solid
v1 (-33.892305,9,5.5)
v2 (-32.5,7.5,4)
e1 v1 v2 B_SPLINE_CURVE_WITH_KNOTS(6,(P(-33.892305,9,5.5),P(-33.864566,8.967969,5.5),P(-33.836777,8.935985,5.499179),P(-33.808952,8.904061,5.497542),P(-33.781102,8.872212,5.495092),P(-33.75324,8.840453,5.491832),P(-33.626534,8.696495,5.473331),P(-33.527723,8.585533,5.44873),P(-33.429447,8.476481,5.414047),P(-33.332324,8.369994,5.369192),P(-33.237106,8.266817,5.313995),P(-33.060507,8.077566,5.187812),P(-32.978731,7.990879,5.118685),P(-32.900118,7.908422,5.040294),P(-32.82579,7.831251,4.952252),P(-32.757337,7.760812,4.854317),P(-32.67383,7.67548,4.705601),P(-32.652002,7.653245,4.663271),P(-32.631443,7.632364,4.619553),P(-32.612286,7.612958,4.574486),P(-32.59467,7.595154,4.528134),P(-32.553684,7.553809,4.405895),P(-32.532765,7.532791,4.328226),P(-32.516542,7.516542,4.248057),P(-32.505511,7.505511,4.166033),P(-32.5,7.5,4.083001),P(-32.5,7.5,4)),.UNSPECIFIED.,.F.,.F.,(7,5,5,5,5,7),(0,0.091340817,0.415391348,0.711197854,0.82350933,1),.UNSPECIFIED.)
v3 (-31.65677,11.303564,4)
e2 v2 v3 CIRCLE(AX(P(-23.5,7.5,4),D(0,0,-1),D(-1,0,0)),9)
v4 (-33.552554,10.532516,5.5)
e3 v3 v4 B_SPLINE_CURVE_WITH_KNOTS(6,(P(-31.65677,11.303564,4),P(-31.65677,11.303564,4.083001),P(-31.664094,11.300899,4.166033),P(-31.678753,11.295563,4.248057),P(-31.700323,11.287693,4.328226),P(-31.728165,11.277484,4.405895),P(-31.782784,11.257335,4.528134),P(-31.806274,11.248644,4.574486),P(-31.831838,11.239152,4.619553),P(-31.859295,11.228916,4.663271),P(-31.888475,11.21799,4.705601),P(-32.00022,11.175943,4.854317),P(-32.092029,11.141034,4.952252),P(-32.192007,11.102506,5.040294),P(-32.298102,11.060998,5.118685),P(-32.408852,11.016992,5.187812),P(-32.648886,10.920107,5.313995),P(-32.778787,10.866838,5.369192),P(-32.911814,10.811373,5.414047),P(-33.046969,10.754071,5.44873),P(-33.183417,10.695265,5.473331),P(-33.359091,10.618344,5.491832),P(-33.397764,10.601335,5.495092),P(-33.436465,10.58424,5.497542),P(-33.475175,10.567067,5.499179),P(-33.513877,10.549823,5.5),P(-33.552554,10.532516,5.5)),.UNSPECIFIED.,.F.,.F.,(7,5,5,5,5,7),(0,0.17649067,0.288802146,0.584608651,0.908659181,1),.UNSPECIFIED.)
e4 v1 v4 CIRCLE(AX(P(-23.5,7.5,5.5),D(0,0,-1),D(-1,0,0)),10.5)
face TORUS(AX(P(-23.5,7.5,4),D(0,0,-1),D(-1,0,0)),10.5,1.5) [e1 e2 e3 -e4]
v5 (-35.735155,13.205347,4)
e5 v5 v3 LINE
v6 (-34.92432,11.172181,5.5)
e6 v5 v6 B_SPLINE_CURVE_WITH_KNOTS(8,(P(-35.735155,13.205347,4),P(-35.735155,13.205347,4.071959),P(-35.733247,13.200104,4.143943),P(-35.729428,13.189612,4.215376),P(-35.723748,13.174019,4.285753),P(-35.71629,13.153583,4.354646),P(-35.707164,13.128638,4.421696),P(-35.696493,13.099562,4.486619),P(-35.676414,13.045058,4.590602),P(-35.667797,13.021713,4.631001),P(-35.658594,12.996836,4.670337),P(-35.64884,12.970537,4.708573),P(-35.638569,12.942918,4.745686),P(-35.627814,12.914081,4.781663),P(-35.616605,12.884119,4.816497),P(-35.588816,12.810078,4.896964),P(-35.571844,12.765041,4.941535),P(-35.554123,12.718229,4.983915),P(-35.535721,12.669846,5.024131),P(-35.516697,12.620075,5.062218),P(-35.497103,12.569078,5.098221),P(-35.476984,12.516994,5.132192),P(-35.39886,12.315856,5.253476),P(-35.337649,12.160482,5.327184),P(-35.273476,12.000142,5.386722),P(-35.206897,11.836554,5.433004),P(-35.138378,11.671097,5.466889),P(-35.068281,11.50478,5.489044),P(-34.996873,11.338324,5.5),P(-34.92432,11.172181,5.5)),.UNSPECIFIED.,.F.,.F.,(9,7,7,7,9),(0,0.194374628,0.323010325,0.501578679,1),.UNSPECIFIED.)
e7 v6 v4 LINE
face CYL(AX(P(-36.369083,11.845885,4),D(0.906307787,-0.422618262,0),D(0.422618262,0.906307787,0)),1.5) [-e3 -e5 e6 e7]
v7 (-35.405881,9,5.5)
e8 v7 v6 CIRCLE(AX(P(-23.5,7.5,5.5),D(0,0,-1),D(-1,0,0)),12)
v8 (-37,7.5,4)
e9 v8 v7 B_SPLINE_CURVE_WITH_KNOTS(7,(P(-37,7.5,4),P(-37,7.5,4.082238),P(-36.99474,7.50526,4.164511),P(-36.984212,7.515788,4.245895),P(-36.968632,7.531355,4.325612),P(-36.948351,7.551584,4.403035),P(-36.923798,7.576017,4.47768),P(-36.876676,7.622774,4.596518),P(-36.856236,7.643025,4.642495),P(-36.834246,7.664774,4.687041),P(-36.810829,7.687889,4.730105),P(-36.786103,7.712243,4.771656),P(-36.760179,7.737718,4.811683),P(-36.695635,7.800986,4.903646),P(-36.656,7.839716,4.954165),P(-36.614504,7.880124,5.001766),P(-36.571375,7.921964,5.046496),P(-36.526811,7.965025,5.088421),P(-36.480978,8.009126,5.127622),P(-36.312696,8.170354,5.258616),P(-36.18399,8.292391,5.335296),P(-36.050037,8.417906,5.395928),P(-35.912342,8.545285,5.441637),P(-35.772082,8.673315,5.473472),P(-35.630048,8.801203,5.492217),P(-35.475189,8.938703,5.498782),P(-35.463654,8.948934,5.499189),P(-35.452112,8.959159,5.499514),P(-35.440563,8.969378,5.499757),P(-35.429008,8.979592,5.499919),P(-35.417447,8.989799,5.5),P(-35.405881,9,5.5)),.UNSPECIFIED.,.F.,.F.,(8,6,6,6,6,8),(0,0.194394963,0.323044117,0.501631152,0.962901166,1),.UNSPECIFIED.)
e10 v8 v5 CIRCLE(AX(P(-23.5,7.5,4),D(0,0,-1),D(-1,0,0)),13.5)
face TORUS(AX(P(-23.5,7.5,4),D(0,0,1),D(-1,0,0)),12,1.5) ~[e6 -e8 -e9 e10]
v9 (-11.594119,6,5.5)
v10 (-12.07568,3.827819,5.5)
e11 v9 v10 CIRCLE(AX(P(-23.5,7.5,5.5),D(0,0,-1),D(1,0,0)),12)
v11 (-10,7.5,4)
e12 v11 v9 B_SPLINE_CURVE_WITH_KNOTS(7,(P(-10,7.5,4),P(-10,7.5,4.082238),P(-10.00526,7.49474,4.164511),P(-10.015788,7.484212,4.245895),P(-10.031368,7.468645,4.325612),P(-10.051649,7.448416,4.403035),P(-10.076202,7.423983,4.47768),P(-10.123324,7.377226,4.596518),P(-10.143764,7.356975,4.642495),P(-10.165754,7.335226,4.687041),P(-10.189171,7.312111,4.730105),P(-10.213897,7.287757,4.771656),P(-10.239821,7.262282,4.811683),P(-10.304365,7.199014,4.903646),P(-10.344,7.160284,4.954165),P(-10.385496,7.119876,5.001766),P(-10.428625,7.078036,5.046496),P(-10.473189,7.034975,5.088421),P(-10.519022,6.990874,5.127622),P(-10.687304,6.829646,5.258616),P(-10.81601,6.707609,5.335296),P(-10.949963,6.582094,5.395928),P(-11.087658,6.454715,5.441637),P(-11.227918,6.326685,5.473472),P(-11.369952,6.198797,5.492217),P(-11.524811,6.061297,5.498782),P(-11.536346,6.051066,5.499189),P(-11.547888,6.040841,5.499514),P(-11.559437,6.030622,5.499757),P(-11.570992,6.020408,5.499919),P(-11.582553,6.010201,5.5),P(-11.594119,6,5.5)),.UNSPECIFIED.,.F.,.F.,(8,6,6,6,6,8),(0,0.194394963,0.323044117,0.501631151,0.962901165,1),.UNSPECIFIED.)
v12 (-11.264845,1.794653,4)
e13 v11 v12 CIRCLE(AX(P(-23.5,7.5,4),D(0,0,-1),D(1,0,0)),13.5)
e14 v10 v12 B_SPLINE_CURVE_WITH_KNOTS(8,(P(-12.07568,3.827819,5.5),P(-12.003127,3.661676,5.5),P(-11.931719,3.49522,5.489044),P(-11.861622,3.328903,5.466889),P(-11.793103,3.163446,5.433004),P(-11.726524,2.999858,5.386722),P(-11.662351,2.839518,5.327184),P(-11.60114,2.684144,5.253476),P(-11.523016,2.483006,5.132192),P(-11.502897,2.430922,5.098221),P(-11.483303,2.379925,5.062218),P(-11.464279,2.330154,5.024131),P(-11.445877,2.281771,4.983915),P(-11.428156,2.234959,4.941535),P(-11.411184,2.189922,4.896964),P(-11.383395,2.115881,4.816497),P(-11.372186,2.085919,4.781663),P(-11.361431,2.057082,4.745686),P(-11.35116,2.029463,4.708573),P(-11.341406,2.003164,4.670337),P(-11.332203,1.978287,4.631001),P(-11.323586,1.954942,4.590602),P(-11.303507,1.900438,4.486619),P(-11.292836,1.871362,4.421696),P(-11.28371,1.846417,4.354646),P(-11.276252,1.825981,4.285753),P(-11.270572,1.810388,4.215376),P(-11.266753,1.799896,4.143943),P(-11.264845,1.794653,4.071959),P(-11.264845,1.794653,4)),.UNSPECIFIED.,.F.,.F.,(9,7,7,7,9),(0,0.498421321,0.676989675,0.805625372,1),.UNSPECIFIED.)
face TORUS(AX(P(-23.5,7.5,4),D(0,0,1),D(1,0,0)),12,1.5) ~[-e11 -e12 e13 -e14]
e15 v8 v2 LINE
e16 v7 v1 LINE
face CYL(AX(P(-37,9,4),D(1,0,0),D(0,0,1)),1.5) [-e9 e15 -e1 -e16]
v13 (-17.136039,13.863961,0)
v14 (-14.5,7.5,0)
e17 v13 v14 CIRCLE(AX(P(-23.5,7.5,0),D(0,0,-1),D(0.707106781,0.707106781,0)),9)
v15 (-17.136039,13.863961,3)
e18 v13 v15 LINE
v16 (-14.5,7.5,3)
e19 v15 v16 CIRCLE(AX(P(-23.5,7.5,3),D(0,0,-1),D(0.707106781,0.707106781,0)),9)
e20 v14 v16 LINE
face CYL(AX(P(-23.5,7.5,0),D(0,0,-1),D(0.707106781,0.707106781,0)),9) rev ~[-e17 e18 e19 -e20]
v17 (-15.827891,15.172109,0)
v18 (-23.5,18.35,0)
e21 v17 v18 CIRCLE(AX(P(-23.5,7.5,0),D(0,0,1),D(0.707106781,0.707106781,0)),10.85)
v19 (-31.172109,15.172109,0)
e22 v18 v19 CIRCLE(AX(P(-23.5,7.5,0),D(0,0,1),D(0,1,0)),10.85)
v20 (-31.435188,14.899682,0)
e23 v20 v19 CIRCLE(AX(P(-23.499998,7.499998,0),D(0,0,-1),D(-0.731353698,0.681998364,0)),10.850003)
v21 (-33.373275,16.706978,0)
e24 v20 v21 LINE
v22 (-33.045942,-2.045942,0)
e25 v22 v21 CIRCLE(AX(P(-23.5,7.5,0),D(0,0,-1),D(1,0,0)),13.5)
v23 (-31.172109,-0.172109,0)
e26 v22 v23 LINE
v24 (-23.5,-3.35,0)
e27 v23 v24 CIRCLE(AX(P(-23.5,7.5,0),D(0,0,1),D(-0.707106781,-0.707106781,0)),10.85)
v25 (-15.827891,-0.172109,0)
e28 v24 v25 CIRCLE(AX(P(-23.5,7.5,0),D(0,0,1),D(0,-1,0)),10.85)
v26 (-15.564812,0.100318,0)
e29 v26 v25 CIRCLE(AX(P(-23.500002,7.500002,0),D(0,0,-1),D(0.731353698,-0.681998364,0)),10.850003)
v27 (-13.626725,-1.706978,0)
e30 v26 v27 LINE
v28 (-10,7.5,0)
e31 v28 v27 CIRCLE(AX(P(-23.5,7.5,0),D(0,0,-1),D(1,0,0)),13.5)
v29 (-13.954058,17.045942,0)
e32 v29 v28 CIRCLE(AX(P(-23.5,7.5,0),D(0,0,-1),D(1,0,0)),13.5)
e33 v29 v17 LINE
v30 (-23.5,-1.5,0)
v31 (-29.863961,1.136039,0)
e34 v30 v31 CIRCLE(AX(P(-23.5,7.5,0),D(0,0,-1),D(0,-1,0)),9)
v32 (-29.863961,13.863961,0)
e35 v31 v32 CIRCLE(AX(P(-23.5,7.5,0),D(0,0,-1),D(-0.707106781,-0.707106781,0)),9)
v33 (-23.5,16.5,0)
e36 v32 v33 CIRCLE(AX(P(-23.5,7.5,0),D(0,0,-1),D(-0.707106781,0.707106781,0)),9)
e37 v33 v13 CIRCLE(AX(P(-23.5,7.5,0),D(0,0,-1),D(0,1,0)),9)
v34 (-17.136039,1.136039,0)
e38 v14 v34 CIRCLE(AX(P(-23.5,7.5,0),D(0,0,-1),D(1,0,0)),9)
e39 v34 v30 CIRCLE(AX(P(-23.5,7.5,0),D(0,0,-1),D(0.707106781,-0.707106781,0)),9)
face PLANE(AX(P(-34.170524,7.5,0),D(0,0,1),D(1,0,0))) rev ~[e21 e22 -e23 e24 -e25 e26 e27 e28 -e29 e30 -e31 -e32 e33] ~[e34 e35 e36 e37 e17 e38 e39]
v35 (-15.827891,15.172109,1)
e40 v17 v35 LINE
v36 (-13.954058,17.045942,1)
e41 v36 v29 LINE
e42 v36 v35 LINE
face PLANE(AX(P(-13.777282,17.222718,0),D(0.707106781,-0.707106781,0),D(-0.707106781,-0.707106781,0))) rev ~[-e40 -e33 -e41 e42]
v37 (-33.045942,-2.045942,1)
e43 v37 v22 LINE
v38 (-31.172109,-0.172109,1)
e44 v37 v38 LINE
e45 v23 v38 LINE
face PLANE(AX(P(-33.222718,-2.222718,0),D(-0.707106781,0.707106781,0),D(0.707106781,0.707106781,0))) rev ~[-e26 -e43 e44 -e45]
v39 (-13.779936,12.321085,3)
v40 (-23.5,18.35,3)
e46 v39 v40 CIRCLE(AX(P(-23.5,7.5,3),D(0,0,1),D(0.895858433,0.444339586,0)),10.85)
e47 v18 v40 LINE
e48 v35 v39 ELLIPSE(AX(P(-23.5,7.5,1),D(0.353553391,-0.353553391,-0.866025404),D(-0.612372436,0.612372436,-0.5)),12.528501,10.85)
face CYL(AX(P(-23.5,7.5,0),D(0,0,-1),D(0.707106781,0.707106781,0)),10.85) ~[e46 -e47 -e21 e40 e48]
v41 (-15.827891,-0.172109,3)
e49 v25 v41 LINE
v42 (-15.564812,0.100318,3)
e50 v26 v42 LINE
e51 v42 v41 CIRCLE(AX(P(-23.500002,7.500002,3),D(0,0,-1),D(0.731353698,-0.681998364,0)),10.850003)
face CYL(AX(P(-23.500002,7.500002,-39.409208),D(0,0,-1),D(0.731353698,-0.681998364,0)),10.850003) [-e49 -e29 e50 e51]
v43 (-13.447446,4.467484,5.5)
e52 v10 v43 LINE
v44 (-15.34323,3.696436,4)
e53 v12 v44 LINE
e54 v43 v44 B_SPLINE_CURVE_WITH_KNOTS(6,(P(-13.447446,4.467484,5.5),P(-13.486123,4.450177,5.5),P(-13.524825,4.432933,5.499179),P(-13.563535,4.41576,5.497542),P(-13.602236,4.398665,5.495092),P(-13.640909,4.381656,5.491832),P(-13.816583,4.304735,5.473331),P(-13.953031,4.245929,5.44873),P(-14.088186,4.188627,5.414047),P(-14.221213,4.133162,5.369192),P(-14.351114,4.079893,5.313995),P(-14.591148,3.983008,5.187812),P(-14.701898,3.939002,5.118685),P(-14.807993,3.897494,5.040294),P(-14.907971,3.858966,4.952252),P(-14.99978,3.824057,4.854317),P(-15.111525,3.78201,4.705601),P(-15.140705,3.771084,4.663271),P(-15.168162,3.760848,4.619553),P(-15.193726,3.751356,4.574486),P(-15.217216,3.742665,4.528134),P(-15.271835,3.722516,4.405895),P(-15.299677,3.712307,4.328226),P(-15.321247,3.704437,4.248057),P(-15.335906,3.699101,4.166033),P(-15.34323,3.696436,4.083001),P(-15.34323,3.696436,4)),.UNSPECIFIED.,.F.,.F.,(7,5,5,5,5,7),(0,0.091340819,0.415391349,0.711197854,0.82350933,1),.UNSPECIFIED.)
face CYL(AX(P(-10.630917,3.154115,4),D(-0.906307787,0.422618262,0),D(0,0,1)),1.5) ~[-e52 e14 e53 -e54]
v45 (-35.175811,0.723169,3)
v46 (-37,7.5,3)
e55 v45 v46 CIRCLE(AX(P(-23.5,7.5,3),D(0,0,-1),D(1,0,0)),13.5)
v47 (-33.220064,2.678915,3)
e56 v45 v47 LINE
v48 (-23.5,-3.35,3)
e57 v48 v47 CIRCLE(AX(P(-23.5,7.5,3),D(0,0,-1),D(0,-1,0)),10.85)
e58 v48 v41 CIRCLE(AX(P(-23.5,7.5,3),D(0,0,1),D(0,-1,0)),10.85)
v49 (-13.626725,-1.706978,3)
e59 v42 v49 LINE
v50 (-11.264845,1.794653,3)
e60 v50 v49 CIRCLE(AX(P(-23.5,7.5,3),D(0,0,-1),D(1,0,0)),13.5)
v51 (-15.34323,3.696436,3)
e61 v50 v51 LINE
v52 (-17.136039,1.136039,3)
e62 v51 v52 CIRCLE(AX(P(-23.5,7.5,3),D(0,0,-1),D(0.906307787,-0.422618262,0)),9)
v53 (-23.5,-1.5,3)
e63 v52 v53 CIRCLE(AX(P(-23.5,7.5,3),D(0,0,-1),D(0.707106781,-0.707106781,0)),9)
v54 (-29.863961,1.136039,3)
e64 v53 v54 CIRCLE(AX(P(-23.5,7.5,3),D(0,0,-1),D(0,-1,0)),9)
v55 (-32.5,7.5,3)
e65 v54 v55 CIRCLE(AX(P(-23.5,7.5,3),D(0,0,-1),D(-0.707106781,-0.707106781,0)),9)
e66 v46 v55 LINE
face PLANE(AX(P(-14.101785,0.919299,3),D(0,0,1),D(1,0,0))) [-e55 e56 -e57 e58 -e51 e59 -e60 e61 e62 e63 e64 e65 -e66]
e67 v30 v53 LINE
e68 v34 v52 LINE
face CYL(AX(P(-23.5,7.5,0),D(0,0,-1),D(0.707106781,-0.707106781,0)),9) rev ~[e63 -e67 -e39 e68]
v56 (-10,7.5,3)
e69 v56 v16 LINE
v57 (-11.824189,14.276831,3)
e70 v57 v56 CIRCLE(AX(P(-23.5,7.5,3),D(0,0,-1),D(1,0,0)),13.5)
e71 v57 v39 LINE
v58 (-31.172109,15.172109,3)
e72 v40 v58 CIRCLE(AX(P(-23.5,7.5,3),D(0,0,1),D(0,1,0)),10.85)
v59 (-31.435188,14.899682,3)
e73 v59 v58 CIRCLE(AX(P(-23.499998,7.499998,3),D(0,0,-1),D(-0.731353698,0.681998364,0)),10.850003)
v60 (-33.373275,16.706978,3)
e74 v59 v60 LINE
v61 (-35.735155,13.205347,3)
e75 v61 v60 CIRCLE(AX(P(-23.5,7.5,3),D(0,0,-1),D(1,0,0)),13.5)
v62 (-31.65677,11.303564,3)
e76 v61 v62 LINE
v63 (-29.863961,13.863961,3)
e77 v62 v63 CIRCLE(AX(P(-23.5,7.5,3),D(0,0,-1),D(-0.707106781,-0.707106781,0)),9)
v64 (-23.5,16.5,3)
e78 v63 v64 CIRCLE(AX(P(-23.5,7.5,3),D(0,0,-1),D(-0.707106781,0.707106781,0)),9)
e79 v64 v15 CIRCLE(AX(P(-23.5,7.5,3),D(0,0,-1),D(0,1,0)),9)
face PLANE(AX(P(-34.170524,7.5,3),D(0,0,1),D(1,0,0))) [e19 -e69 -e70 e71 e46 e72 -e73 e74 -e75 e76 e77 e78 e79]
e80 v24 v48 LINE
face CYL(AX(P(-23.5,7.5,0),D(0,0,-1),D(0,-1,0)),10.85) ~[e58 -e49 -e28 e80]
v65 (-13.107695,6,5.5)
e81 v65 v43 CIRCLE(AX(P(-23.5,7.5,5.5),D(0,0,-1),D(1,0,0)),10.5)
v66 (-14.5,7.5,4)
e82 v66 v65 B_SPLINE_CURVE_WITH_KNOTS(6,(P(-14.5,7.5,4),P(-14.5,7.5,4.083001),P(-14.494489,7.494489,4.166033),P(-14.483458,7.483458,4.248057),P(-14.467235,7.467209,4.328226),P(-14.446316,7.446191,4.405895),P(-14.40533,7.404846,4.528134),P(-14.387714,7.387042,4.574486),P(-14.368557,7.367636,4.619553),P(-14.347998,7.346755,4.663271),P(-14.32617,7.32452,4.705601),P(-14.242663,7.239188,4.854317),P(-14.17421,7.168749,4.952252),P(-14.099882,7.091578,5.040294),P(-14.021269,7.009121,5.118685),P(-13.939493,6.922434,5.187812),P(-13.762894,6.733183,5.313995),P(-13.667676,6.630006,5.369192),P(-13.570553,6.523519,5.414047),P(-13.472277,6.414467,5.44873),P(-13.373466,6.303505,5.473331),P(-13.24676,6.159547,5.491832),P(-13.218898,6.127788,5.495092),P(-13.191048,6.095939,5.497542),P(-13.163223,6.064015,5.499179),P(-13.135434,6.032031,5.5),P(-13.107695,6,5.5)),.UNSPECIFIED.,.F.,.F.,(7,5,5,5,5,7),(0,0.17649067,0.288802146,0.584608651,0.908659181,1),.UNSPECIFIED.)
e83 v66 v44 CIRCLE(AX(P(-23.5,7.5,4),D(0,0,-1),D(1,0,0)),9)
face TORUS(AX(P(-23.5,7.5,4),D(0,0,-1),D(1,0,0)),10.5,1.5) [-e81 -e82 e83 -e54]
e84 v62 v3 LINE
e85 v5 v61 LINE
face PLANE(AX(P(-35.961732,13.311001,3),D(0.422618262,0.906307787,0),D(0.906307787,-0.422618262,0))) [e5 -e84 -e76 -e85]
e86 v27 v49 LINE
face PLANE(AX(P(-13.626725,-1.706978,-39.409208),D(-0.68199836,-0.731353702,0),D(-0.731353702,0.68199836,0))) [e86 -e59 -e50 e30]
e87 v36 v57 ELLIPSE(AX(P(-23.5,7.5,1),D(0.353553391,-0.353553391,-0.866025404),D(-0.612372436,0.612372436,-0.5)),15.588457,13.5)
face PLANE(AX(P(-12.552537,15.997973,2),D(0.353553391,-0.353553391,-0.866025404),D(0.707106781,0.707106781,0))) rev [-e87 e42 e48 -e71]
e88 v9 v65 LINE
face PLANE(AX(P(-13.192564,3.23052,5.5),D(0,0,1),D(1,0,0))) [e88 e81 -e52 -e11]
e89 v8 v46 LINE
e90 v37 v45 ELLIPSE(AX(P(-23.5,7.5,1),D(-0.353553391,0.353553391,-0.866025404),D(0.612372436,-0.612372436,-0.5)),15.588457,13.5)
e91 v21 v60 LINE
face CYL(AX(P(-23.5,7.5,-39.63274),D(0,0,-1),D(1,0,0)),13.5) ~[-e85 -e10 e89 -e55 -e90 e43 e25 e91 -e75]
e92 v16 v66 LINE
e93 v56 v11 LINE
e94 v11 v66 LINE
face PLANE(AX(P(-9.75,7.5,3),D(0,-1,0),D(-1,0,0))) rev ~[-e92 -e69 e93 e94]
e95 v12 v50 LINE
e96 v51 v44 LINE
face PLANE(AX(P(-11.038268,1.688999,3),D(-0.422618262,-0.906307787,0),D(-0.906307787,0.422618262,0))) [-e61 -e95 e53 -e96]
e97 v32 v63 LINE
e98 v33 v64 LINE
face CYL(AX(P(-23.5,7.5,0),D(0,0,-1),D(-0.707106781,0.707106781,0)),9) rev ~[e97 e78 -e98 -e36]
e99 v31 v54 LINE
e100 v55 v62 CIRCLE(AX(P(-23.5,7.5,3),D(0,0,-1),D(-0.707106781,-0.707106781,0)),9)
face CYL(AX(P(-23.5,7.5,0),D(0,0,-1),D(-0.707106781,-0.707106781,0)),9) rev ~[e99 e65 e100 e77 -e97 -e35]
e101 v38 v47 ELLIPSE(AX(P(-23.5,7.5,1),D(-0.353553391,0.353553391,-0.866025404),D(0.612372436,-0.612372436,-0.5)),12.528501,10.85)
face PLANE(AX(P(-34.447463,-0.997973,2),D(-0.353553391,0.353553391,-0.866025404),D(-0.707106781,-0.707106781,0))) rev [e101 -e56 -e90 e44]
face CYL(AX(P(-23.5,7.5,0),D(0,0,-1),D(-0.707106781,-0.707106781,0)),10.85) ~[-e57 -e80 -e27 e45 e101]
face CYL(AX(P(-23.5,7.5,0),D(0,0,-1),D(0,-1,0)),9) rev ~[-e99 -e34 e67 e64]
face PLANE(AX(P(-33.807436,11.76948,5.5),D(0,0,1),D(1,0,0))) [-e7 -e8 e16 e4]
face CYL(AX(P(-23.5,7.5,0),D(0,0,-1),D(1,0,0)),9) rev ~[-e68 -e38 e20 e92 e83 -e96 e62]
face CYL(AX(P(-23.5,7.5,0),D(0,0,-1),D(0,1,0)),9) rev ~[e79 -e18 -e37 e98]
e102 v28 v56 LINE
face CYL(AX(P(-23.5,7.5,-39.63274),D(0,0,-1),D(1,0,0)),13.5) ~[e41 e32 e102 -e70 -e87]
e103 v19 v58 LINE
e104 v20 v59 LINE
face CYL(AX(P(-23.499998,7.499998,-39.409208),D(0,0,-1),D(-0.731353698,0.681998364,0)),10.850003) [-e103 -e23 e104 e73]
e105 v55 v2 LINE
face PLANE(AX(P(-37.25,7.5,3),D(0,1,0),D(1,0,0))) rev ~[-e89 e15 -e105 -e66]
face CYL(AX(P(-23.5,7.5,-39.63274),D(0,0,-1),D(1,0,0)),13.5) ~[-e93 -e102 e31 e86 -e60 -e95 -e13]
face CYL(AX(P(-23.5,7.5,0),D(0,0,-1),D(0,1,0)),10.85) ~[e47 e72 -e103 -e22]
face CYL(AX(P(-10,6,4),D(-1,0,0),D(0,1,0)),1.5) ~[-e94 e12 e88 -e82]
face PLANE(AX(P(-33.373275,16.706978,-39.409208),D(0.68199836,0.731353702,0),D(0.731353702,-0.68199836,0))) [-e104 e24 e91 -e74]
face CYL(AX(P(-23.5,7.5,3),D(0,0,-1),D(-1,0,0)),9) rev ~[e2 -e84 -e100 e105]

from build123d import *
from build123d.topology import SkipClean

# Parameters (mm, degrees)
BOSS_EXTRUDE1_DEPTH     = 3
BOSS_EXTRUDE2_DEPTH     = 2.5
CHAMFER1_SIZE           = 2
CHAMFER1_SIZE2          = 3.464101615
CHAMFER2_SIZE           = 2
CHAMFER2_SIZE2          = 3.464101615
CUT_EXTRUDE1_START      = -2.5
CUT_EXTRUDE1_DEPTH      = 2.5
CUT_EXTRUDE2_DEPTH      = 42.632739521
CUT_EXTRUDE2_DEPTH_BACK = 42.632739521
SKETCH4_R               = 17.222950649
SKETCH4_R_2             = 13.5
CUT_EXTRUDE3_DEPTH      = 42.409207913
CUT_EXTRUDE3_DEPTH_BACK = 42.409207913
FILLET1_R               = 1.5


with BuildPart() as part:
    # Sketch1 → Boss-Extrude1 (new body)
    with BuildSketch(Plane.XY):
        with BuildLine():
            Line((-33.222718241, -2.222718241), (-31.172108576, -0.172108576))
            ThreePointArc((-31.172108576, -0.172108576), (-34.35, 7.5), (-31.172108576, 15.172108576))
            Line((-31.172108576, 15.172108576), (-33.222718241, 17.222718241))
            ThreePointArc((-33.222718241, 17.222718241), (-37.25, 7.5), (-33.222718241, -2.222718241))
        make_face()
        with BuildLine():
            Line((-31.172108576, -0.172108576), (-29.863961031, 1.136038969))
            ThreePointArc((-29.863961031, 1.136038969), (-32.5, 7.5), (-29.863961031, 13.863961031))
            Line((-29.863961031, 13.863961031), (-31.172108576, 15.172108576))
            ThreePointArc((-31.172108576, 15.172108576), (-34.35, 7.5), (-31.172108576, -0.172108576))
        make_face()
        with BuildLine():
            ThreePointArc((-29.863961031, 13.863961031), (-26.944150891, 15.814915793), (-23.5, 16.5))
            Line((-23.5, 16.5), (-23.5, 18.35))
            ThreePointArc((-23.5, 18.35), (-27.652115241, 17.524092928), (-31.172108576, 15.172108576))
            Line((-31.172108576, 15.172108576), (-29.863961031, 13.863961031))
        make_face()
        with BuildLine():
            Line((-23.5, 18.35), (-23.5, 16.5))
            ThreePointArc((-23.5, 16.5), (-20.055849109, 15.814915793), (-17.136038969, 13.863961031))
            Line((-17.136038969, 13.863961031), (-15.827891424, 15.172108576))
            ThreePointArc((-15.827891424, 15.172108576), (-19.347884759, 17.524092928), (-23.5, 18.35))
        make_face()
        with BuildLine():
            Line((-15.827891424, 15.172108576), (-17.136038969, 13.863961031))
            ThreePointArc((-17.136038969, 13.863961031), (-15.185084207, 10.944150891), (-14.5, 7.5))
            ThreePointArc((-14.5, 7.5), (-15.185084207, 4.055849109), (-17.136038969, 1.136038969))
            Line((-17.136038969, 1.136038969), (-15.827891424, -0.172108576))
            ThreePointArc((-15.827891424, -0.172108576), (-13.475907072, 3.347884759), (-12.65, 7.5))
            ThreePointArc((-12.65, 7.5), (-13.475907072, 11.652115241), (-15.827891424, 15.172108576))
        make_face()
        with BuildLine():
            ThreePointArc((-17.136038969, 1.136038969), (-20.055849109, -0.814915793), (-23.5, -1.5))
            Line((-23.5, -1.5), (-23.5, -3.35))
            ThreePointArc((-23.5, -3.35), (-19.347884759, -2.524092928), (-15.827891424, -0.172108576))
            Line((-15.827891424, -0.172108576), (-17.136038969, 1.136038969))
        make_face()
        with BuildLine():
            Line((-23.5, -3.35), (-23.5, -1.5))
            ThreePointArc((-23.5, -1.5), (-26.944150891, -0.814915793), (-29.863961031, 1.136038969))
            Line((-29.863961031, 1.136038969), (-31.172108576, -0.172108576))
            ThreePointArc((-31.172108576, -0.172108576), (-27.652115241, -2.524092928), (-23.5, -3.35))
        make_face()
        with BuildLine():
            Line((-13.777281759, 17.222718241), (-15.827891424, 15.172108576))
            ThreePointArc((-15.827891424, 15.172108576), (-13.475907072, 11.652115241), (-12.65, 7.5))
            ThreePointArc((-12.65, 7.5), (-13.475907072, 3.347884759), (-15.827891424, -0.172108576))
            Line((-15.827891424, -0.172108576), (-13.777281759, -2.222718241))
            ThreePointArc((-13.777281759, -2.222718241), (-10.796656428, 2.238102805), (-9.75, 7.5))
            ThreePointArc((-9.75, 7.5), (-10.796656428, 12.761897195), (-13.777281759, 17.222718241))
        make_face()
    extrude(amount=BOSS_EXTRUDE1_DEPTH)

    # Sketch2 → Boss-Extrude2 (add)
    with BuildSketch(Plane.XY.offset(3)):
        with BuildLine():
            Line((-37.25, 7.5), (-32.5, 7.5))
            ThreePointArc((-32.5, 7.5), (-31.814915793, 10.944150891), (-29.863961031, 13.863961031))
            Line((-29.863961031, 13.863961031), (-31.172108576, 15.172108576))
            Line((-31.172108576, 15.172108576), (-33.222718241, 17.222718241))
            ThreePointArc((-33.222718241, 17.222718241), (-36.203343572, 12.761897195), (-37.25, 7.5))
        make_face()
        with BuildLine():
            Line((-9.75, 7.5), (-14.5, 7.5))
            ThreePointArc((-14.5, 7.5), (-15.185084207, 4.055849109), (-17.136038969, 1.136038969))
            Line((-17.136038969, 1.136038969), (-15.827891424, -0.172108576))
            Line((-15.827891424, -0.172108576), (-13.777281759, -2.222718241))
            ThreePointArc((-13.777281759, -2.222718241), (-10.796656428, 2.238102805), (-9.75, 7.5))
        make_face()
    extrude(amount=BOSS_EXTRUDE2_DEPTH)

    # Chamfer1
    chamfer1_edges = [part.edges().sort_by_distance(p)[0] for p in [
        (-32.197413409, -1.197413409, 3),
    ]]
    chamfer1_side = [part.faces().sort_by_distance(p)[0] for p in [
        (-32.197413409, -1.197413409, 1.5),
    ]]
    chamfer(chamfer1_edges, length=CHAMFER1_SIZE, length2=CHAMFER1_SIZE2, reference=chamfer1_side[0])

    # Chamfer2
    chamfer2_edges = [part.edges().sort_by_distance(p)[0] for p in [
        (-14.802586591, 16.197413409, 3),
    ]]
    chamfer2_side = [part.faces().sort_by_distance(p)[0] for p in [
        (-14.802586591, 16.197413409, 1.5),
    ]]
    chamfer(chamfer2_edges, length=CHAMFER2_SIZE, length2=CHAMFER2_SIZE2, reference=chamfer2_side[0])

    # Sketch3 → Cut-Extrude1 (cut)
    with BuildSketch(Plane.XY.offset(5.5).offset(CUT_EXTRUDE1_START)):
        with BuildLine():
            Line((-11.038267928, 1.688998901), (-15.343229917, 3.696435644))
            ThreePointArc((-15.343229917, 3.696435644), (-16.127631601, 2.337812073), (-17.136038969, 1.136038969))
            Line((-17.136038969, 1.136038969), (-13.777281759, -2.222718241))
            ThreePointArc((-13.777281759, -2.222718241), (-12.236659391, -0.386676), (-11.038267928, 1.688998901))
        make_face()
        with BuildLine():
            Line((-35.961732072, 13.311001099), (-31.656770083, 11.303564356))
            ThreePointArc((-31.656770083, 11.303564356), (-30.872368399, 12.662187927), (-29.863961031, 13.863961031))
            Line((-29.863961031, 13.863961031), (-33.222718241, 17.222718241))
            ThreePointArc((-33.222718241, 17.222718241), (-34.763340609, 15.386676), (-35.961732072, 13.311001099))
        make_face()
    extrude(amount=CUT_EXTRUDE1_DEPTH, mode=Mode.SUBTRACT)

    # Sketch4 → Cut-Extrude2 (cut, two sides: drawn at the far end of the back side and taken through both)
    with BuildSketch(Plane.XY.offset(3).offset(-CUT_EXTRUDE2_DEPTH_BACK)):
        with Locations((-23.5, 7.5)):
            Circle(SKETCH4_R)
        with Locations((-23.5, 7.5)):
            Circle(SKETCH4_R_2, mode=Mode.SUBTRACT)
    extrude(amount=CUT_EXTRUDE2_DEPTH + CUT_EXTRUDE2_DEPTH_BACK, mode=Mode.SUBTRACT)

    # Sketch5 → Cut-Extrude3 (cut, two sides: drawn at the far end of the back side and taken through both)
    with SkipClean():  # the faces are left unmerged after this step: merging them gives an invalid solid
        with BuildSketch(Plane.XY.offset(3).offset(-CUT_EXTRUDE3_DEPTH_BACK)):
            with BuildLine():
                Line((-33.373274972, 16.706977861), (-31.435187663, 14.899682207))
                ThreePointArc((-31.435187663, 14.899682207), (-31.304836834, 15.037043319), (-31.172108576, 15.172108576))
                Line((-31.172108576, 15.172108576), (-33.045941546, 17.045941546))
                ThreePointArc((-33.045941546, 17.045941546), (-33.211087305, 16.877888001), (-33.373274972, 16.706977861))
            make_face()
            with BuildLine():
                Line((-13.626725028, -1.706977861), (-15.564812337, 0.100317793))
                ThreePointArc((-15.564812337, 0.100317793), (-15.695163166, -0.037043319), (-15.827891424, -0.172108576))
                Line((-15.827891424, -0.172108576), (-13.954058454, -2.045941546))
                ThreePointArc((-13.954058454, -2.045941546), (-13.788912695, -1.877888001), (-13.626725028, -1.706977861))
            make_face()
        extrude(amount=CUT_EXTRUDE3_DEPTH + CUT_EXTRUDE3_DEPTH_BACK, mode=Mode.SUBTRACT)

    # Fillet1
    fillet1_edges = [part.edges().sort_by_distance(p)[0] for p in [
        (-13.304037396, 2.745544555, 5.5),
        (-33.695962604, 12.254455445, 5.5),
        (-10.320003904, 4.578065212, 5.5),
        (-36.679996096, 10.421934788, 5.5),
        (-34.75, 7.5, 5.5),
        (-32.286664064, 9.447956525, 5.5),
        (-12.25, 7.5, 5.5),
        (-14.713335936, 5.552043475, 5.5),
    ]]
    fillet(fillet1_edges, radius=FILLET1_R)


solid = part.part
